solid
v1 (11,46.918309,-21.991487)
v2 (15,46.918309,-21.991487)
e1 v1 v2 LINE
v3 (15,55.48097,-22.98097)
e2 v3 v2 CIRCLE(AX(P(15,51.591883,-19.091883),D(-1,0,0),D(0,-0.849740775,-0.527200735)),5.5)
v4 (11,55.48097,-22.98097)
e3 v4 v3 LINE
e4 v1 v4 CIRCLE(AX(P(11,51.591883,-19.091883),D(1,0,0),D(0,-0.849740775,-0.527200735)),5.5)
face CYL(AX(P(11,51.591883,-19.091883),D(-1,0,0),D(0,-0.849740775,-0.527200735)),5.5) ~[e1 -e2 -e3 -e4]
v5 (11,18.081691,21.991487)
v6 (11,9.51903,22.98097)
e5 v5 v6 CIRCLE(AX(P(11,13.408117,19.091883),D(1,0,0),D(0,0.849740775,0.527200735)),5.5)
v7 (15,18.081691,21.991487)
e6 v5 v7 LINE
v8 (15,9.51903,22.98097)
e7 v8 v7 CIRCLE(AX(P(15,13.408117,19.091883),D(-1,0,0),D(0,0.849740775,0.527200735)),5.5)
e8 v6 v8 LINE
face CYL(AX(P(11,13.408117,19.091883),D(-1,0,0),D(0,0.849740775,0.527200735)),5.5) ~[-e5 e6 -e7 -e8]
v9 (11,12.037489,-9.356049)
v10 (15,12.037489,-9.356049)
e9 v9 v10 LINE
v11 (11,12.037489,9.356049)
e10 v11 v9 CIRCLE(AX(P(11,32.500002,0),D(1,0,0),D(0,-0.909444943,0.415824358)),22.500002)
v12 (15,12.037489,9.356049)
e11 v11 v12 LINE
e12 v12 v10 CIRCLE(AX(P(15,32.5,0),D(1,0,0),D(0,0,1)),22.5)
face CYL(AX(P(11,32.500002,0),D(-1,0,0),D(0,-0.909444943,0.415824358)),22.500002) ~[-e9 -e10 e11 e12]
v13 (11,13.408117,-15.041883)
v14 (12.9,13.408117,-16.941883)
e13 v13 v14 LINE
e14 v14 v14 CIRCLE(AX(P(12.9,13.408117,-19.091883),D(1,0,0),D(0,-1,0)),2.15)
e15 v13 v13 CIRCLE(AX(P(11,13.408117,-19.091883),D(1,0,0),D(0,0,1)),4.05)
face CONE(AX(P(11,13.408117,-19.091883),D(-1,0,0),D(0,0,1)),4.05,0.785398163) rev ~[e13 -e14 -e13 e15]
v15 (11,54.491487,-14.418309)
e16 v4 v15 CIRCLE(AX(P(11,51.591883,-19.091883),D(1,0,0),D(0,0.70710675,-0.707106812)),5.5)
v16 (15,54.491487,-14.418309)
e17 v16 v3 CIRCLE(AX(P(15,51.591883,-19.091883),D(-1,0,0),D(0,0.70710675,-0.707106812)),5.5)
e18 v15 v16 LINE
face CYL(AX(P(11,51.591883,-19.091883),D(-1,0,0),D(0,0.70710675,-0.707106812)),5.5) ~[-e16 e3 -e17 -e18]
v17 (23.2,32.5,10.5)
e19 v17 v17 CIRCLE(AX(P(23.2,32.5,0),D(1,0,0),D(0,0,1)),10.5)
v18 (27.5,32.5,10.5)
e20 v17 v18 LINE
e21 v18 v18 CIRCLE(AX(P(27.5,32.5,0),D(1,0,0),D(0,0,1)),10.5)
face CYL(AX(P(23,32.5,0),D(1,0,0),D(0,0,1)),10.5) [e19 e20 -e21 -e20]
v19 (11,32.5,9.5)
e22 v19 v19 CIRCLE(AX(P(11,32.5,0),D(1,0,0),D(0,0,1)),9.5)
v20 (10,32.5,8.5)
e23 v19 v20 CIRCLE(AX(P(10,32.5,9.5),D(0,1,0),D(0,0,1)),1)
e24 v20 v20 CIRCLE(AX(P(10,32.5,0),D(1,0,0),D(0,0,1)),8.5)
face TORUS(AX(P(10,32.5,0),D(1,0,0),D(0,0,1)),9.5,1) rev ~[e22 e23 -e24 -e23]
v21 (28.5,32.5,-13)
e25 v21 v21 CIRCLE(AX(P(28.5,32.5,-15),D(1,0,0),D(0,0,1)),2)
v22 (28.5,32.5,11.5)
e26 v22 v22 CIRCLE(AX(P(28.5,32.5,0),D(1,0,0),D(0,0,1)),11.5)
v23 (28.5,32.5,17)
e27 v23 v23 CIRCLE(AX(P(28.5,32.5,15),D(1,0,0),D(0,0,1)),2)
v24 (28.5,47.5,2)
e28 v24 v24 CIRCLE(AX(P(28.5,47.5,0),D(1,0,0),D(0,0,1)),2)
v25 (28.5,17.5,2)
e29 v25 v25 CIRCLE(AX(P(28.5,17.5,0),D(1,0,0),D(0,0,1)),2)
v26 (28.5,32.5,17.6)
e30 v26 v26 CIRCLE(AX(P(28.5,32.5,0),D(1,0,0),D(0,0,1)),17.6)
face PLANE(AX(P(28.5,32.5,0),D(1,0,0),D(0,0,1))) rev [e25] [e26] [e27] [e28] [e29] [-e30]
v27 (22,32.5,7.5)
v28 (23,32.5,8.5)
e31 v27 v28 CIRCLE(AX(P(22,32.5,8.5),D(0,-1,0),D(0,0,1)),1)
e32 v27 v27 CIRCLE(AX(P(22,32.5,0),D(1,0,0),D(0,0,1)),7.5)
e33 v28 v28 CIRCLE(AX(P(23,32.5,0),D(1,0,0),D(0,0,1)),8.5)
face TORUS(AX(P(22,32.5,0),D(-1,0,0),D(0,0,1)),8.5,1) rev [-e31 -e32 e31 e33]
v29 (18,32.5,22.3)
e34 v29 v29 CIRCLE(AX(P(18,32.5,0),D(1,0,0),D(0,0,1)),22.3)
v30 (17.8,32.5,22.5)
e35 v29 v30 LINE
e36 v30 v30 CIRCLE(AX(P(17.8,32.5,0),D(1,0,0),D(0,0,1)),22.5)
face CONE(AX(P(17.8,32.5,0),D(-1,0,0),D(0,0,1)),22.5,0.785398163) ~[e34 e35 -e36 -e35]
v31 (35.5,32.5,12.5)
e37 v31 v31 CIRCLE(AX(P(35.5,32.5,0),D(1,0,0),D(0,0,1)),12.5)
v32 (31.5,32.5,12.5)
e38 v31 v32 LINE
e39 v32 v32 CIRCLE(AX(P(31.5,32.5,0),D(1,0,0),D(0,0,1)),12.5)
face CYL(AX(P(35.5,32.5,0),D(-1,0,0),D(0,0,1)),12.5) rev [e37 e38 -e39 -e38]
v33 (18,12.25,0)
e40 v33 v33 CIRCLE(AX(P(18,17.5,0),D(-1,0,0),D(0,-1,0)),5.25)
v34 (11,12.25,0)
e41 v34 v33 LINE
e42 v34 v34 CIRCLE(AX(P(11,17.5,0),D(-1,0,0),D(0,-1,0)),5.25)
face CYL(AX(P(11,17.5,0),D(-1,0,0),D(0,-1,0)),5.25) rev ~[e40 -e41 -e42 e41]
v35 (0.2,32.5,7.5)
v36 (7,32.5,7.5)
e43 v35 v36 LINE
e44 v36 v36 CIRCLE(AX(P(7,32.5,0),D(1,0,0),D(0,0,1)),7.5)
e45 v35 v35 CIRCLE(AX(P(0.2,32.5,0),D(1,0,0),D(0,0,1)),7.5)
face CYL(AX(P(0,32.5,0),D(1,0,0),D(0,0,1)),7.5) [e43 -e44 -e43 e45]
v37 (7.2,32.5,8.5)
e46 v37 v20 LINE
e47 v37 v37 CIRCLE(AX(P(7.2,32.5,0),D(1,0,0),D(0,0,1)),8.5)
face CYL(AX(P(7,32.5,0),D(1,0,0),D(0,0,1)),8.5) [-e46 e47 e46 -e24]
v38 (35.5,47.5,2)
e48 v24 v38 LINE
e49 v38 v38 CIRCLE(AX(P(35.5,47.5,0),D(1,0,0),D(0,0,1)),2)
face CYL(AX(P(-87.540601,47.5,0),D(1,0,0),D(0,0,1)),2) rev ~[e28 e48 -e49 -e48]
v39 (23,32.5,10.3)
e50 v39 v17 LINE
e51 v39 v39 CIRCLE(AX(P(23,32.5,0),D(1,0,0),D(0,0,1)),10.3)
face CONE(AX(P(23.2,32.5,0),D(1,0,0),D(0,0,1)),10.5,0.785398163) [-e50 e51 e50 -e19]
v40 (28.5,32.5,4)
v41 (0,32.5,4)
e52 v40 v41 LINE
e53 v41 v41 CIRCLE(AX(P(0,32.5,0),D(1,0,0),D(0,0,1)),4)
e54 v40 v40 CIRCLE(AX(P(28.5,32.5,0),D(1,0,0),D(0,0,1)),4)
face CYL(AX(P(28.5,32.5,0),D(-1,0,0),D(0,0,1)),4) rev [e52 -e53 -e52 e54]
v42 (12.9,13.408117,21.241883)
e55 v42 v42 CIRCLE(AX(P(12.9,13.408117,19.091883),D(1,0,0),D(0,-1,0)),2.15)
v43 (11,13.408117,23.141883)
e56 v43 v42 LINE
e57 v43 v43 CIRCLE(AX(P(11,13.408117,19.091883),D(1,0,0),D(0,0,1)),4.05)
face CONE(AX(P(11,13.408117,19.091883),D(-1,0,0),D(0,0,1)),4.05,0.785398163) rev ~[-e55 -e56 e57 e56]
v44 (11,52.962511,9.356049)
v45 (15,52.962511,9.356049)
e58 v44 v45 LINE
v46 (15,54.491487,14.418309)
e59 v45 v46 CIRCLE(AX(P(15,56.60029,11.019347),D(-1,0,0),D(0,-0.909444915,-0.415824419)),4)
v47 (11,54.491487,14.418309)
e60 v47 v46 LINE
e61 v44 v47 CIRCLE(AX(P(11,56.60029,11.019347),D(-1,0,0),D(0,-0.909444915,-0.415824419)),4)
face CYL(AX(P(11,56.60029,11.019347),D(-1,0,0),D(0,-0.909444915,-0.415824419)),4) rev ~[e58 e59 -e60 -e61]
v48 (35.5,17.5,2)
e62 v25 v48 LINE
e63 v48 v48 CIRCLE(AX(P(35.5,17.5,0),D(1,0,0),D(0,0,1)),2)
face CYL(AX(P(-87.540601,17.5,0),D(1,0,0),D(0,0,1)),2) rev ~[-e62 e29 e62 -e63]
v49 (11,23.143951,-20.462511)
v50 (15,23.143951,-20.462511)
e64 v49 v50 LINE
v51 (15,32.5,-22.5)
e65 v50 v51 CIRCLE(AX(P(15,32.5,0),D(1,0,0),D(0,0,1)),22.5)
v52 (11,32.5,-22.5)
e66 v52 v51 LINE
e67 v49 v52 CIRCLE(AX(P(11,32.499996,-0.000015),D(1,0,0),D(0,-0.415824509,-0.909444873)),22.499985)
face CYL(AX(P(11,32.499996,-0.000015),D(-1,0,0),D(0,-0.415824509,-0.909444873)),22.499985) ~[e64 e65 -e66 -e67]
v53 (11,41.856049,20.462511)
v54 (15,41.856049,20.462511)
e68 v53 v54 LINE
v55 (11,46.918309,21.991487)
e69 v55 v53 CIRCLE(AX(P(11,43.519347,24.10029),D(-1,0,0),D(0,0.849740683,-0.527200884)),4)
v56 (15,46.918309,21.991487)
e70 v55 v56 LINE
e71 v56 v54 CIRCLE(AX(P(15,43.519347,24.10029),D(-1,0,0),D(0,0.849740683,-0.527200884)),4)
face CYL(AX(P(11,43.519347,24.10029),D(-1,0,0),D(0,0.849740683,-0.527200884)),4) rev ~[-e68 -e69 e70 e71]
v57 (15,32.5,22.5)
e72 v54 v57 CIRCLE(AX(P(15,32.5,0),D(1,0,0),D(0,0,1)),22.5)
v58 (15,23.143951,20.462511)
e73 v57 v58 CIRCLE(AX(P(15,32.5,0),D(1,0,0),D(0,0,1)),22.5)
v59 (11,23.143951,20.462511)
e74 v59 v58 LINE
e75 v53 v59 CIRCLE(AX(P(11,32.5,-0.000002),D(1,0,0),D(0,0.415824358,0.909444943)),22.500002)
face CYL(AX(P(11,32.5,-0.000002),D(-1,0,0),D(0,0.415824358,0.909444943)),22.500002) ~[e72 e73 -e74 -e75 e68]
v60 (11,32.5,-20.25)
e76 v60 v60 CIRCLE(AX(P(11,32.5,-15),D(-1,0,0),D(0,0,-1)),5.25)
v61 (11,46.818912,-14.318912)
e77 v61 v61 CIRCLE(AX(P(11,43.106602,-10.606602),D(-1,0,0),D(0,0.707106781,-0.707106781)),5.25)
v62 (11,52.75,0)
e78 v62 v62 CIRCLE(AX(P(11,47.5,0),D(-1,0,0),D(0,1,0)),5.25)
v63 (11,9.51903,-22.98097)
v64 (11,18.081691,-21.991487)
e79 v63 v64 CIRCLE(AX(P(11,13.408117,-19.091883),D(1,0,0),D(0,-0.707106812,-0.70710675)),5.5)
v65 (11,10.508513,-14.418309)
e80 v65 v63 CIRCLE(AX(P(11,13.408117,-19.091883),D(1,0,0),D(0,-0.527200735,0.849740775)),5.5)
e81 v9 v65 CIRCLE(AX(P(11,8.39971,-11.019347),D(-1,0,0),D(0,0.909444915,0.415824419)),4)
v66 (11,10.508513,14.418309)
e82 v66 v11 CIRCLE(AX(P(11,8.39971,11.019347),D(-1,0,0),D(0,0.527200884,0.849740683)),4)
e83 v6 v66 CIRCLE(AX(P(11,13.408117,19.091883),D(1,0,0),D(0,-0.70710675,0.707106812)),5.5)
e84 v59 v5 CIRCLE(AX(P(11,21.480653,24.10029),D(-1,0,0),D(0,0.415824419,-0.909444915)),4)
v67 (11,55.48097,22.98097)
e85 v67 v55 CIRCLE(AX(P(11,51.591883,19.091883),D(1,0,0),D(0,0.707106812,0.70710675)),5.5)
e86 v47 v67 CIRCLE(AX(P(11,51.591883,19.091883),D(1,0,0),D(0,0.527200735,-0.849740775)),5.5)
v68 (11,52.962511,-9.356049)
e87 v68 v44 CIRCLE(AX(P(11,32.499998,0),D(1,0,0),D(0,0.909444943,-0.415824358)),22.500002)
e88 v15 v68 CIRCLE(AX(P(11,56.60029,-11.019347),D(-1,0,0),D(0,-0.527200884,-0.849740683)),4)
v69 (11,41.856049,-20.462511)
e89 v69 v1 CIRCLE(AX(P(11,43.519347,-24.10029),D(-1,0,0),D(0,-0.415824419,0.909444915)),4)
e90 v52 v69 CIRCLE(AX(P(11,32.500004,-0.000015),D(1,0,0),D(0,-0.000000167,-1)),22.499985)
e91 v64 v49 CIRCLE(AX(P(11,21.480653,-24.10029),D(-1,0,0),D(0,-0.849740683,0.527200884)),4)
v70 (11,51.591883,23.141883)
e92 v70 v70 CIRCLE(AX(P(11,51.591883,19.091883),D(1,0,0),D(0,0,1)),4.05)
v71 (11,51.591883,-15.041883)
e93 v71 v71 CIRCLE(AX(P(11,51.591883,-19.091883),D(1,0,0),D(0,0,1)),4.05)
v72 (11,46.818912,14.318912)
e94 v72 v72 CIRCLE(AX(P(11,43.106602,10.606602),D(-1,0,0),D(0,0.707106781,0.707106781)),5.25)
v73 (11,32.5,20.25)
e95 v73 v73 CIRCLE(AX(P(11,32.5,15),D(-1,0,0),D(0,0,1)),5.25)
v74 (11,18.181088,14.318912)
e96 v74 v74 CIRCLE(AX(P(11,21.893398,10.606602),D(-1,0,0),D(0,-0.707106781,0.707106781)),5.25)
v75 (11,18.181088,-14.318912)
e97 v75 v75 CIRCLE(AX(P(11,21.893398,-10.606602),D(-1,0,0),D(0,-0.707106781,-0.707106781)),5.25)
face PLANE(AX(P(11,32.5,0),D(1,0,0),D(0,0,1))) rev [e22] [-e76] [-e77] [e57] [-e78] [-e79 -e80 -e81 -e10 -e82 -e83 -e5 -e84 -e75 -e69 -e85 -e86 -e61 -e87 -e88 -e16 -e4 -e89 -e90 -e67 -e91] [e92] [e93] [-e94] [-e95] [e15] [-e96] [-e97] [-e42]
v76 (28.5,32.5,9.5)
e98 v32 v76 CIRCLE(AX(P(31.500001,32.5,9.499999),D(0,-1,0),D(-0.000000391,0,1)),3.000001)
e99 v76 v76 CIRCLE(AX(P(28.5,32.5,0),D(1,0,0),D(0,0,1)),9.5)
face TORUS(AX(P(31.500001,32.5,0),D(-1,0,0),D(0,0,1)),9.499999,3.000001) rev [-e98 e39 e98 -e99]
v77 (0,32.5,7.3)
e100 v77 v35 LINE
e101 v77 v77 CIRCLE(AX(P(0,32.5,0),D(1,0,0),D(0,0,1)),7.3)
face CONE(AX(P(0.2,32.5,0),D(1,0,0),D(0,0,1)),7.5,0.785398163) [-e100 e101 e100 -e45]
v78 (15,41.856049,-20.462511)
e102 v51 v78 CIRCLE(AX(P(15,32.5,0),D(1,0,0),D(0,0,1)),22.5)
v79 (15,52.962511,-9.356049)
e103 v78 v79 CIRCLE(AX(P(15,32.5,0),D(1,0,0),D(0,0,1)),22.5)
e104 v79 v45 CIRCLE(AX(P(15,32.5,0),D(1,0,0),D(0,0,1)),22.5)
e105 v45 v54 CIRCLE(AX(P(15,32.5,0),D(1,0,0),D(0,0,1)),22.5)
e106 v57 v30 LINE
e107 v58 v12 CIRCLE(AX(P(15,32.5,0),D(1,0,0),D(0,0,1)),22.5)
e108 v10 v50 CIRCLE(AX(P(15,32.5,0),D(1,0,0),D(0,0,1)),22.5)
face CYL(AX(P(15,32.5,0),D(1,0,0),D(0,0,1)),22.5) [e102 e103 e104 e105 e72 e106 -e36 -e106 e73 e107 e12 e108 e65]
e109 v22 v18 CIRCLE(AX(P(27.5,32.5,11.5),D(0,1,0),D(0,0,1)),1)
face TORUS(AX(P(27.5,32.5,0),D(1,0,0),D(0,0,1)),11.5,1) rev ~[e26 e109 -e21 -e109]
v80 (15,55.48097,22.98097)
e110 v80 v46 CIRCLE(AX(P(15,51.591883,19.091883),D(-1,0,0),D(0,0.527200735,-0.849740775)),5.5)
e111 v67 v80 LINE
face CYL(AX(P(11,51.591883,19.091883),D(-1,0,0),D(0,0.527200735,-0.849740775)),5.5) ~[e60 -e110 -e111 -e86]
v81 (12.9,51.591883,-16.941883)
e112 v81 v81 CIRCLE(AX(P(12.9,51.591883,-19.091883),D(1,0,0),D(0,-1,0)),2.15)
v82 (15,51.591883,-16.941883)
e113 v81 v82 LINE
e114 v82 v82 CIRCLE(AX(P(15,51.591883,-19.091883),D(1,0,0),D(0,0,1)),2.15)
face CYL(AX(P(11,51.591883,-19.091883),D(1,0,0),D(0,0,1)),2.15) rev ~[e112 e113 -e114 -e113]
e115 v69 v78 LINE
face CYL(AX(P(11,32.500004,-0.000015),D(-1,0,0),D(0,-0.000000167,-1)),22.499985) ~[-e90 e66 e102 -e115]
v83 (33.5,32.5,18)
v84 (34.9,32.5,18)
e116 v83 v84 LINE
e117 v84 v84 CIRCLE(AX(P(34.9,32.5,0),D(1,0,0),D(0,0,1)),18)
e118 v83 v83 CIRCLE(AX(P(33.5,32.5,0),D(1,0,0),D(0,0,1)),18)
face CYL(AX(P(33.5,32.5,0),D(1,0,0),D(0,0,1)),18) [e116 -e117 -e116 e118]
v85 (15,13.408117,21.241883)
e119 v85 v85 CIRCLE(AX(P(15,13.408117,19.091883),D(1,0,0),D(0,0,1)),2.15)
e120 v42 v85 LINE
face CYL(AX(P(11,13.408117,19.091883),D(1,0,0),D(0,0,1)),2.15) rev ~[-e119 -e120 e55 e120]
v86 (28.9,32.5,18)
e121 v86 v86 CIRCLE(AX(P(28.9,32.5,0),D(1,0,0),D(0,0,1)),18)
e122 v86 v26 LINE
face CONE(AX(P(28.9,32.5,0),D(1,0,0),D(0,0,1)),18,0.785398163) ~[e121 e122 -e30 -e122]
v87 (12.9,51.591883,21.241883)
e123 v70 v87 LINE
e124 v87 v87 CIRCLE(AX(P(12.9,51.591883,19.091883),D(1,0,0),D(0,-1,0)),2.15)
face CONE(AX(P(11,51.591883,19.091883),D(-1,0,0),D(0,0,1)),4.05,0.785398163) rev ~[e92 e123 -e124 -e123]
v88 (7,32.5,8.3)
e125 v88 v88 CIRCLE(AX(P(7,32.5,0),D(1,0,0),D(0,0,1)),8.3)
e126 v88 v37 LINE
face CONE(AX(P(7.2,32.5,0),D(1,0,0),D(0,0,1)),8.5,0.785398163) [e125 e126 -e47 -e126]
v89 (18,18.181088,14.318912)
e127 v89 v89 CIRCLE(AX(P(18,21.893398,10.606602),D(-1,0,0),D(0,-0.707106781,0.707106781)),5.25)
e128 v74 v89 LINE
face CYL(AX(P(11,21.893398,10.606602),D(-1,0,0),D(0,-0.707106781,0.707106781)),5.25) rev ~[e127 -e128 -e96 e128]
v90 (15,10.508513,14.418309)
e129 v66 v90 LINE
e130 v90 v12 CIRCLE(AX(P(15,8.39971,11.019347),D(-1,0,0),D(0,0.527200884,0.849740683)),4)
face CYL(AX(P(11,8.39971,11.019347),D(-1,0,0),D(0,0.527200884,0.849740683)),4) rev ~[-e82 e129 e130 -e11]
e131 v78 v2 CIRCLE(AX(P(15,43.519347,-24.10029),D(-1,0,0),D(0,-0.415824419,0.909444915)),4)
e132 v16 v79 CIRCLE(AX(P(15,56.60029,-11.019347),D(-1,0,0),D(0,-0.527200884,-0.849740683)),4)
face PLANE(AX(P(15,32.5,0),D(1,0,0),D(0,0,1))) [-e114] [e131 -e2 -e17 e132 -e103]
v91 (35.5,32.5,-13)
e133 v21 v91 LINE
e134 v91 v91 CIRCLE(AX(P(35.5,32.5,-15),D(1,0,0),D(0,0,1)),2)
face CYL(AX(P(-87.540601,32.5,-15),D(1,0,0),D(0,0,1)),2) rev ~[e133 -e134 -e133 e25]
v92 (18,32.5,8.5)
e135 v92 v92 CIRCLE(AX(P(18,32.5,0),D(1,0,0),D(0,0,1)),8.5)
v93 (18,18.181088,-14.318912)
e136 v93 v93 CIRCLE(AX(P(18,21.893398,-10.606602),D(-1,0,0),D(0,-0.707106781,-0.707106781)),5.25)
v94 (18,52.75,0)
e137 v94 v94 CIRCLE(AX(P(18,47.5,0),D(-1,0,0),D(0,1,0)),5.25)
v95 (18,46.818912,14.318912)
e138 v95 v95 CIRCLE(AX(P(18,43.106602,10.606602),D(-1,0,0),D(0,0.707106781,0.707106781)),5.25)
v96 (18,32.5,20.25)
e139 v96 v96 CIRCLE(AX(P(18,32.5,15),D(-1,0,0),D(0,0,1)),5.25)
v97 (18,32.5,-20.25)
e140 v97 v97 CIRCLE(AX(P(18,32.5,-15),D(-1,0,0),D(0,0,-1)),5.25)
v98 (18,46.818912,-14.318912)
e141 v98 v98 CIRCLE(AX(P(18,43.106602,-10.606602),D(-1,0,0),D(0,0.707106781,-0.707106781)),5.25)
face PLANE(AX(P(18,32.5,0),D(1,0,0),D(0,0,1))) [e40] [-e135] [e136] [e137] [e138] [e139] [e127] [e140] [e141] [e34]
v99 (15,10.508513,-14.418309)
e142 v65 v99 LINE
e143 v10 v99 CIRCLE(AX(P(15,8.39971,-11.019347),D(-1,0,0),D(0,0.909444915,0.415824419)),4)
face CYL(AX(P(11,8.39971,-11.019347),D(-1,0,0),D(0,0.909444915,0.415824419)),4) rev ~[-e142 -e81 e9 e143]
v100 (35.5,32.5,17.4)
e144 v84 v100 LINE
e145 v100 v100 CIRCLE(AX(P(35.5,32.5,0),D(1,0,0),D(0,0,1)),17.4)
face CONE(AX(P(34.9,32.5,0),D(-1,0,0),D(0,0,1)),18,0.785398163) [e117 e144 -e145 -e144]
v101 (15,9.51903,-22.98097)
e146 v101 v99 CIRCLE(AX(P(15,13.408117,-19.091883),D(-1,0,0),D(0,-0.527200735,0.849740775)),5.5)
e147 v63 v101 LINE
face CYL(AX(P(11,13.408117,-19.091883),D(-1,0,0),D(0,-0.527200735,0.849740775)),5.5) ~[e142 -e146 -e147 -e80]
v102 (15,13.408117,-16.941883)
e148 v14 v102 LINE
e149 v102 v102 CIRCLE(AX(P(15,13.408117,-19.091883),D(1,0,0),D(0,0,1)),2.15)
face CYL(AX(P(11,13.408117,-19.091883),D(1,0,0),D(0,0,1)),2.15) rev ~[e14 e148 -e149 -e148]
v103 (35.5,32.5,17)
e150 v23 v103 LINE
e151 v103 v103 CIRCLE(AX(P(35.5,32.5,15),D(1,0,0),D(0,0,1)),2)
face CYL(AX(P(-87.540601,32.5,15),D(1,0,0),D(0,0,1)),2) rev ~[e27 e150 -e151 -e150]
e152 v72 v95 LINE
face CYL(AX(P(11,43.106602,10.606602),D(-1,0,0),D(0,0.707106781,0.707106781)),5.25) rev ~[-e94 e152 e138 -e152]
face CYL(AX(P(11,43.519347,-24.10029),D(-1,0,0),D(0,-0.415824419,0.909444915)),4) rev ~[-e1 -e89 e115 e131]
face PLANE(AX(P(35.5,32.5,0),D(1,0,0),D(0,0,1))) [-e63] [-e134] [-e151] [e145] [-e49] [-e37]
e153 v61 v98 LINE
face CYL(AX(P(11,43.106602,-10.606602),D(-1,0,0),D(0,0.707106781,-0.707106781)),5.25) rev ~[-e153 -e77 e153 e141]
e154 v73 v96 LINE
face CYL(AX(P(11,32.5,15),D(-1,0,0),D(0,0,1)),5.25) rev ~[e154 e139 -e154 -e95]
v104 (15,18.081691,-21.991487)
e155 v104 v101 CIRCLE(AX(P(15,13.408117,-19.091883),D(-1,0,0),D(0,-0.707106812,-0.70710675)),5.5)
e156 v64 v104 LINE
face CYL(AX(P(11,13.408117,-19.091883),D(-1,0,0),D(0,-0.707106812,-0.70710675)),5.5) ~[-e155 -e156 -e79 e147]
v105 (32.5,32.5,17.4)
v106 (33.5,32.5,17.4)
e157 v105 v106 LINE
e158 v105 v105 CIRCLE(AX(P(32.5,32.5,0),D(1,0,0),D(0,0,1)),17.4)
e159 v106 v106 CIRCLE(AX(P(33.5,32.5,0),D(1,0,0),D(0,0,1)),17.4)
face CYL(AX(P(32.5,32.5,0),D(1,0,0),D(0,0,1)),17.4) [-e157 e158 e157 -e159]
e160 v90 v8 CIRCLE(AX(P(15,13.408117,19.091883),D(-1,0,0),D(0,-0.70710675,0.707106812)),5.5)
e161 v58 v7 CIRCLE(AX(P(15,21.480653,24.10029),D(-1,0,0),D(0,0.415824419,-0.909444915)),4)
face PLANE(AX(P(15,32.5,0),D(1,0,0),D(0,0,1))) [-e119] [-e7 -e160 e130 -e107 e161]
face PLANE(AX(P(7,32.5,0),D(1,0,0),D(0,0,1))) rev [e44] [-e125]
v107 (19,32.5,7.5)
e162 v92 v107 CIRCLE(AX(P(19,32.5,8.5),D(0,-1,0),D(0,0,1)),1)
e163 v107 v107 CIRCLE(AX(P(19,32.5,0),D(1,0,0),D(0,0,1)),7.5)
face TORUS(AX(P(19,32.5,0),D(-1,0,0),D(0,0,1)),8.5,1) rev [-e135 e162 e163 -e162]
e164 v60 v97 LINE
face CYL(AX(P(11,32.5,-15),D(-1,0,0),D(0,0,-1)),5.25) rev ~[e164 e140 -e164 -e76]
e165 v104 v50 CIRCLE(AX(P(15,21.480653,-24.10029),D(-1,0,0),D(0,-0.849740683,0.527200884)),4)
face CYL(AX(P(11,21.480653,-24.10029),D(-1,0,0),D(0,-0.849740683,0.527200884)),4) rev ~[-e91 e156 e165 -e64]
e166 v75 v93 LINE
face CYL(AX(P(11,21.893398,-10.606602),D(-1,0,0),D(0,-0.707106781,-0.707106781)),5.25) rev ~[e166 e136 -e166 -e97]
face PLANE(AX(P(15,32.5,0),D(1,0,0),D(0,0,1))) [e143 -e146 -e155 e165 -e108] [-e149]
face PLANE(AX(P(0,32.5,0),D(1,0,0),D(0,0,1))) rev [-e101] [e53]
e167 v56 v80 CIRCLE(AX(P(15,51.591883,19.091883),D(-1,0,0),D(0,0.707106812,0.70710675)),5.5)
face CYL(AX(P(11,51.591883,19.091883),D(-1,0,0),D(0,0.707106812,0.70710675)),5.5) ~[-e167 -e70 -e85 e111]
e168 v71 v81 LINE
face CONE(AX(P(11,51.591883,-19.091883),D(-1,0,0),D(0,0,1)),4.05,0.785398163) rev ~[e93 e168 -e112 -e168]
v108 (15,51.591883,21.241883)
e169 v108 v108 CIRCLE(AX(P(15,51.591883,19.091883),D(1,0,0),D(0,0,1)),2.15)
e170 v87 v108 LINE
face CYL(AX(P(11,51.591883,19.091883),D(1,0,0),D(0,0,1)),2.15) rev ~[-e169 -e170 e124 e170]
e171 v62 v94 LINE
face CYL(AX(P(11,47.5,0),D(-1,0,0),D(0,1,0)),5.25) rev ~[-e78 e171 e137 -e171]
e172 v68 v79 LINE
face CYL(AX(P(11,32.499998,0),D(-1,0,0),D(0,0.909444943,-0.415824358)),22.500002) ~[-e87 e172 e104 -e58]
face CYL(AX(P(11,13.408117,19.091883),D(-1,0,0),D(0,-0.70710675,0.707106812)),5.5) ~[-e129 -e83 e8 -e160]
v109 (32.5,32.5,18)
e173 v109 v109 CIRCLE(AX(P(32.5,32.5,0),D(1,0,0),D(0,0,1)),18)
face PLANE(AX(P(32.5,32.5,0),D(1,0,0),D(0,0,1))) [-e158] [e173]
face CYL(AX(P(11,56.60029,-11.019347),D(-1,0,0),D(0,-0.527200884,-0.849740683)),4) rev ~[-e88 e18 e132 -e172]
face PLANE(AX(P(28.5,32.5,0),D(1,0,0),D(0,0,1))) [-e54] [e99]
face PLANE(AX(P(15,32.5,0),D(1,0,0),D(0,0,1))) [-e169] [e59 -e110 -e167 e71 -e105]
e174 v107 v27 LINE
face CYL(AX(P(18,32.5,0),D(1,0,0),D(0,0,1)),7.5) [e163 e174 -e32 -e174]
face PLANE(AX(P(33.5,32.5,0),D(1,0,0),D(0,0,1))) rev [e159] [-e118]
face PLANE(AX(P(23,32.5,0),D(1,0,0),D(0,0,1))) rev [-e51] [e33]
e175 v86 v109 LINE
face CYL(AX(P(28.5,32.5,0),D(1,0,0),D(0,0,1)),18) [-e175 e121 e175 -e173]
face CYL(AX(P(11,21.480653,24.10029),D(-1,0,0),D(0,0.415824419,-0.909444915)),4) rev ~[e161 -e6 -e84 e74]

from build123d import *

# Parameters (mm, degrees)
VERRUNDUNG1_R                                        = 1
VERRUNDUNG2_R                                        = 1
FASE1_SIZE                                           = 0.2
FASE4_SIZE                                           = 0.6
SKIZZE18_R                                           = 5.25
SCHNITT_LINEAR_AUSTRAGEN7_DEPTH                      = 10
KREISMUSTER1_COUNT                                   = 8
FASE5_SIZE                                           = 0.4
F_4_0_4_DURCHMESSER_BOHRUNG2_D                       = 4
FASE6_SIZE                                           = 0.2
VERRUNDUNG3_R                                        = 1
SCHNITT_LINEAR_AUSTRAGEN9_DEPTH                      = 25.5
FORMSENKUNG_F_R_M4_SENKSCHRAUBE_MIT_INNE_D           = 4.3
FORMSENKUNG_F_R_M4_SENKSCHRAUBE_MIT_INNE_CSINK_D     = 8.1
FORMSENKUNG_F_R_M4_SENKSCHRAUBE_MIT_INNE_CSINK_ANGLE = 90


with BuildPart() as part:
    # Skizze1 → Rotation1 (revolve)
    with BuildSketch(Plane.XY, mode=Mode.PRIVATE) as rotation1_sk:
        with BuildLine():
            Line((11, 24), (11, 0))
            Line((11, 0), (15, 0))
            Line((15, 0), (15, 10))
            Line((15, 10), (18, 10))
            Line((18, 10), (18, 25))
            Line((18, 25), (23, 25))
            Line((23, 25), (23, 22))
            Line((23, 22), (28.5, 22))
            Line((28.5, 22), (28.5, 14.5))
            Line((28.5, 14.5), (32.5, 14.5))
            Line((32.5, 14.5), (32.5, 15.1))
            Line((32.5, 15.1), (33.5, 15.1))
            Line((33.5, 15.1), (33.5, 14.5))
            Line((33.5, 14.5), (35.5, 14.5))
            Line((35.5, 14.5), (35.5, 20))
            Line((35.5, 20), (31.5, 20))
            ThreePointArc((31.5, 20), (29.37868, 20.87868), (28.5, 23))
            Line((28.5, 23), (28.5, 28.5))
            Line((28.5, 28.5), (0, 28.5))
            Line((0, 28.5), (0, 25))
            Line((0, 25), (7, 25))
            Line((7, 25), (7, 24))
            Line((7, 24), (11, 24))
        make_face()
    revolve(rotation1_sk.sketch.rotate(Axis((-20.531325, 32.5, 0), (1, 0, 0)), 270), axis=Axis((-20.531325, 32.5, 0), (1, 0, 0)))  # turned: the seam where the file's is

    # Verrundung1
    verrundung1_edges = [part.edges().sort_by_distance(p)[0] for p in [
        (11, 32.5, -8.5),
    ]]
    fillet(verrundung1_edges, radius=VERRUNDUNG1_R)

    # Verrundung2
    verrundung2_edges = [part.edges().sort_by_distance(p)[0] for p in [
        (18, 32.5, -7.5),
        (23, 32.5, -7.5),
    ]]
    fillet(verrundung2_edges, radius=VERRUNDUNG2_R)

    # Fase1
    fase1_edges = [part.edges().sort_by_distance(p)[0] for p in [
        (18, 32.5, -22.5),
        (23, 32.5, -10.5),
    ]]
    chamfer(fase1_edges, length=FASE1_SIZE)

    # Fase4
    fase4_edges = [part.edges().sort_by_distance(p)[0] for p in [
        (35.5, 32.5, -18),
    ]]
    chamfer(fase4_edges, length=FASE4_SIZE)

    # Skizze18 → Schnitt-Linear austragen7 (cut)
    with BuildSketch(Plane.ZY.offset(-11)):
        with Locations((15, 32.5)):
            Circle(SKIZZE18_R)
    schnitt_linear_austragen7 = extrude(amount=-SCHNITT_LINEAR_AUSTRAGEN7_DEPTH, mode=Mode.SUBTRACT)

    # Kreismuster1: Schnitt-Linear austragen7 ×8 about axis
    kreismuster1_axis = Axis((0, 32.5, 0), (1, 0, 0))
    for i in range(1, KREISMUSTER1_COUNT):
        add(schnitt_linear_austragen7.rotate(kreismuster1_axis, i * 360 / KREISMUSTER1_COUNT), mode=Mode.SUBTRACT)

    # Fase5
    fase5_edges = [part.edges().sort_by_distance(p)[0] for p in [
        (28.5, 32.5, -18),
    ]]
    chamfer(fase5_edges, length=FASE5_SIZE)

    # Ø4.0 (4) Durchmesser Bohrung2 (through all)
    with Locations(Plane(origin=(11, 47.5, 0), x_dir=(0, 0, -1), z_dir=(-1, 0, 0))):
        with Locations((0, 0), (0, 30), (-15, 15), (15, 15)):
            Hole(F_4_0_4_DURCHMESSER_BOHRUNG2_D / 2)

    # Fase6
    fase6_edges = [part.edges().sort_by_distance(p)[0] for p in [
        (0, 32.5, -7.5),
        (7, 32.5, -8.5),
    ]]
    chamfer(fase6_edges, length=FASE6_SIZE)

    # Verrundung3
    verrundung3_edges = [part.edges().sort_by_distance(p)[0] for p in [
        (28.5, 32.5, -10.5),
    ]]
    fillet(verrundung3_edges, radius=VERRUNDUNG3_R)

    # Skizze30 → Schnitt-Linear austragen9 (cut, through all)
    with BuildSketch(Plane.ZY.offset(-11)):
        with BuildLine():
            ThreePointArc((22.98097, 55.48097), (0, 65), (-22.98097, 55.48097))
            ThreePointArc((-22.98097, 55.48097), (-18.460516, 57.055524), (-14.418309, 54.491487))
            ThreePointArc((-14.418309, 54.491487), (-12.175882, 52.771136), (-9.356049, 52.962511))
            ThreePointArc((-9.356049, 52.962511), (0, 55), (9.356049, 52.962511))
            ThreePointArc((9.356049, 52.962511), (12.175882, 52.771136), (14.418309, 54.491487))
            ThreePointArc((14.418309, 54.491487), (18.460516, 57.055524), (22.98097, 55.48097))
        make_face()
        with BuildLine():
            Line((-32.5, 32.5), (-22.5, 32.5))
            ThreePointArc((-22.5, 32.5), (-21.984728, 37.287667), (-20.462511, 41.856049))
            ThreePointArc((-20.462511, 41.856049), (-20.271136, 44.675882), (-21.991487, 46.918309))
            ThreePointArc((-21.991487, 46.918309), (-24.555524, 50.960516), (-22.98097, 55.48097))
            ThreePointArc((-22.98097, 55.48097), (-30.026085, 44.937212), (-32.5, 32.5))
        make_face()
        with BuildLine():
            ThreePointArc((-20.462511, 23.143951), (-21.984728, 27.712333), (-22.5, 32.5))
            Line((-22.5, 32.5), (-32.5, 32.5))
            ThreePointArc((-32.5, 32.5), (-30.026085, 20.062788), (-22.98097, 9.51903))
            ThreePointArc((-22.98097, 9.51903), (-24.555524, 14.039484), (-21.991487, 18.081691))
            ThreePointArc((-21.991487, 18.081691), (-20.271136, 20.324118), (-20.462511, 23.143951))
        make_face()
        with BuildLine():
            ThreePointArc((-14.418309, 10.508513), (-18.460516, 7.944476), (-22.98097, 9.51903))
            ThreePointArc((-22.98097, 9.51903), (0, 0), (22.98097, 9.51903))
            ThreePointArc((22.98097, 9.51903), (18.460516, 7.944476), (14.418309, 10.508513))
            ThreePointArc((14.418309, 10.508513), (12.175882, 12.228864), (9.356049, 12.037489))
            ThreePointArc((9.356049, 12.037489), (0, 10), (-9.356049, 12.037489))
            ThreePointArc((-9.356049, 12.037489), (-12.175882, 12.228864), (-14.418309, 10.508513))
        make_face()
        with BuildLine():
            ThreePointArc((32.5, 32.5), (30.026085, 44.937212), (22.98097, 55.48097))
            ThreePointArc((22.98097, 55.48097), (24.555524, 50.960516), (21.991487, 46.918309))
            ThreePointArc((21.991487, 46.918309), (20.271136, 44.675882), (20.462511, 41.856049))
            ThreePointArc((20.462511, 41.856049), (22.5, 32.5), (20.462511, 23.143951))
            ThreePointArc((20.462511, 23.143951), (20.271136, 20.324118), (21.991487, 18.081691))
            ThreePointArc((21.991487, 18.081691), (24.555524, 14.039484), (22.98097, 9.51903))
            ThreePointArc((22.98097, 9.51903), (30.026085, 20.062788), (32.5, 32.5))
        make_face()
    extrude(amount=-SCHNITT_LINEAR_AUSTRAGEN9_DEPTH, mode=Mode.SUBTRACT)

    # Formsenkung für M4 Senkschraube mit Innensechskant1 (through all)
    with Locations(Plane(origin=(11, 51.591883, -19.091883), x_dir=(0, 0, -1), z_dir=(-1, 0, 0))):
        with Locations((0, 0), (0, 38.183766), (-38.183766, 38.183766), (-38.183766, 0)):
            CounterSinkHole(FORMSENKUNG_F_R_M4_SENKSCHRAUBE_MIT_INNE_D / 2, FORMSENKUNG_F_R_M4_SENKSCHRAUBE_MIT_INNE_CSINK_D / 2, counter_sink_angle=FORMSENKUNG_F_R_M4_SENKSCHRAUBE_MIT_INNE_CSINK_ANGLE)


solid = part.part
